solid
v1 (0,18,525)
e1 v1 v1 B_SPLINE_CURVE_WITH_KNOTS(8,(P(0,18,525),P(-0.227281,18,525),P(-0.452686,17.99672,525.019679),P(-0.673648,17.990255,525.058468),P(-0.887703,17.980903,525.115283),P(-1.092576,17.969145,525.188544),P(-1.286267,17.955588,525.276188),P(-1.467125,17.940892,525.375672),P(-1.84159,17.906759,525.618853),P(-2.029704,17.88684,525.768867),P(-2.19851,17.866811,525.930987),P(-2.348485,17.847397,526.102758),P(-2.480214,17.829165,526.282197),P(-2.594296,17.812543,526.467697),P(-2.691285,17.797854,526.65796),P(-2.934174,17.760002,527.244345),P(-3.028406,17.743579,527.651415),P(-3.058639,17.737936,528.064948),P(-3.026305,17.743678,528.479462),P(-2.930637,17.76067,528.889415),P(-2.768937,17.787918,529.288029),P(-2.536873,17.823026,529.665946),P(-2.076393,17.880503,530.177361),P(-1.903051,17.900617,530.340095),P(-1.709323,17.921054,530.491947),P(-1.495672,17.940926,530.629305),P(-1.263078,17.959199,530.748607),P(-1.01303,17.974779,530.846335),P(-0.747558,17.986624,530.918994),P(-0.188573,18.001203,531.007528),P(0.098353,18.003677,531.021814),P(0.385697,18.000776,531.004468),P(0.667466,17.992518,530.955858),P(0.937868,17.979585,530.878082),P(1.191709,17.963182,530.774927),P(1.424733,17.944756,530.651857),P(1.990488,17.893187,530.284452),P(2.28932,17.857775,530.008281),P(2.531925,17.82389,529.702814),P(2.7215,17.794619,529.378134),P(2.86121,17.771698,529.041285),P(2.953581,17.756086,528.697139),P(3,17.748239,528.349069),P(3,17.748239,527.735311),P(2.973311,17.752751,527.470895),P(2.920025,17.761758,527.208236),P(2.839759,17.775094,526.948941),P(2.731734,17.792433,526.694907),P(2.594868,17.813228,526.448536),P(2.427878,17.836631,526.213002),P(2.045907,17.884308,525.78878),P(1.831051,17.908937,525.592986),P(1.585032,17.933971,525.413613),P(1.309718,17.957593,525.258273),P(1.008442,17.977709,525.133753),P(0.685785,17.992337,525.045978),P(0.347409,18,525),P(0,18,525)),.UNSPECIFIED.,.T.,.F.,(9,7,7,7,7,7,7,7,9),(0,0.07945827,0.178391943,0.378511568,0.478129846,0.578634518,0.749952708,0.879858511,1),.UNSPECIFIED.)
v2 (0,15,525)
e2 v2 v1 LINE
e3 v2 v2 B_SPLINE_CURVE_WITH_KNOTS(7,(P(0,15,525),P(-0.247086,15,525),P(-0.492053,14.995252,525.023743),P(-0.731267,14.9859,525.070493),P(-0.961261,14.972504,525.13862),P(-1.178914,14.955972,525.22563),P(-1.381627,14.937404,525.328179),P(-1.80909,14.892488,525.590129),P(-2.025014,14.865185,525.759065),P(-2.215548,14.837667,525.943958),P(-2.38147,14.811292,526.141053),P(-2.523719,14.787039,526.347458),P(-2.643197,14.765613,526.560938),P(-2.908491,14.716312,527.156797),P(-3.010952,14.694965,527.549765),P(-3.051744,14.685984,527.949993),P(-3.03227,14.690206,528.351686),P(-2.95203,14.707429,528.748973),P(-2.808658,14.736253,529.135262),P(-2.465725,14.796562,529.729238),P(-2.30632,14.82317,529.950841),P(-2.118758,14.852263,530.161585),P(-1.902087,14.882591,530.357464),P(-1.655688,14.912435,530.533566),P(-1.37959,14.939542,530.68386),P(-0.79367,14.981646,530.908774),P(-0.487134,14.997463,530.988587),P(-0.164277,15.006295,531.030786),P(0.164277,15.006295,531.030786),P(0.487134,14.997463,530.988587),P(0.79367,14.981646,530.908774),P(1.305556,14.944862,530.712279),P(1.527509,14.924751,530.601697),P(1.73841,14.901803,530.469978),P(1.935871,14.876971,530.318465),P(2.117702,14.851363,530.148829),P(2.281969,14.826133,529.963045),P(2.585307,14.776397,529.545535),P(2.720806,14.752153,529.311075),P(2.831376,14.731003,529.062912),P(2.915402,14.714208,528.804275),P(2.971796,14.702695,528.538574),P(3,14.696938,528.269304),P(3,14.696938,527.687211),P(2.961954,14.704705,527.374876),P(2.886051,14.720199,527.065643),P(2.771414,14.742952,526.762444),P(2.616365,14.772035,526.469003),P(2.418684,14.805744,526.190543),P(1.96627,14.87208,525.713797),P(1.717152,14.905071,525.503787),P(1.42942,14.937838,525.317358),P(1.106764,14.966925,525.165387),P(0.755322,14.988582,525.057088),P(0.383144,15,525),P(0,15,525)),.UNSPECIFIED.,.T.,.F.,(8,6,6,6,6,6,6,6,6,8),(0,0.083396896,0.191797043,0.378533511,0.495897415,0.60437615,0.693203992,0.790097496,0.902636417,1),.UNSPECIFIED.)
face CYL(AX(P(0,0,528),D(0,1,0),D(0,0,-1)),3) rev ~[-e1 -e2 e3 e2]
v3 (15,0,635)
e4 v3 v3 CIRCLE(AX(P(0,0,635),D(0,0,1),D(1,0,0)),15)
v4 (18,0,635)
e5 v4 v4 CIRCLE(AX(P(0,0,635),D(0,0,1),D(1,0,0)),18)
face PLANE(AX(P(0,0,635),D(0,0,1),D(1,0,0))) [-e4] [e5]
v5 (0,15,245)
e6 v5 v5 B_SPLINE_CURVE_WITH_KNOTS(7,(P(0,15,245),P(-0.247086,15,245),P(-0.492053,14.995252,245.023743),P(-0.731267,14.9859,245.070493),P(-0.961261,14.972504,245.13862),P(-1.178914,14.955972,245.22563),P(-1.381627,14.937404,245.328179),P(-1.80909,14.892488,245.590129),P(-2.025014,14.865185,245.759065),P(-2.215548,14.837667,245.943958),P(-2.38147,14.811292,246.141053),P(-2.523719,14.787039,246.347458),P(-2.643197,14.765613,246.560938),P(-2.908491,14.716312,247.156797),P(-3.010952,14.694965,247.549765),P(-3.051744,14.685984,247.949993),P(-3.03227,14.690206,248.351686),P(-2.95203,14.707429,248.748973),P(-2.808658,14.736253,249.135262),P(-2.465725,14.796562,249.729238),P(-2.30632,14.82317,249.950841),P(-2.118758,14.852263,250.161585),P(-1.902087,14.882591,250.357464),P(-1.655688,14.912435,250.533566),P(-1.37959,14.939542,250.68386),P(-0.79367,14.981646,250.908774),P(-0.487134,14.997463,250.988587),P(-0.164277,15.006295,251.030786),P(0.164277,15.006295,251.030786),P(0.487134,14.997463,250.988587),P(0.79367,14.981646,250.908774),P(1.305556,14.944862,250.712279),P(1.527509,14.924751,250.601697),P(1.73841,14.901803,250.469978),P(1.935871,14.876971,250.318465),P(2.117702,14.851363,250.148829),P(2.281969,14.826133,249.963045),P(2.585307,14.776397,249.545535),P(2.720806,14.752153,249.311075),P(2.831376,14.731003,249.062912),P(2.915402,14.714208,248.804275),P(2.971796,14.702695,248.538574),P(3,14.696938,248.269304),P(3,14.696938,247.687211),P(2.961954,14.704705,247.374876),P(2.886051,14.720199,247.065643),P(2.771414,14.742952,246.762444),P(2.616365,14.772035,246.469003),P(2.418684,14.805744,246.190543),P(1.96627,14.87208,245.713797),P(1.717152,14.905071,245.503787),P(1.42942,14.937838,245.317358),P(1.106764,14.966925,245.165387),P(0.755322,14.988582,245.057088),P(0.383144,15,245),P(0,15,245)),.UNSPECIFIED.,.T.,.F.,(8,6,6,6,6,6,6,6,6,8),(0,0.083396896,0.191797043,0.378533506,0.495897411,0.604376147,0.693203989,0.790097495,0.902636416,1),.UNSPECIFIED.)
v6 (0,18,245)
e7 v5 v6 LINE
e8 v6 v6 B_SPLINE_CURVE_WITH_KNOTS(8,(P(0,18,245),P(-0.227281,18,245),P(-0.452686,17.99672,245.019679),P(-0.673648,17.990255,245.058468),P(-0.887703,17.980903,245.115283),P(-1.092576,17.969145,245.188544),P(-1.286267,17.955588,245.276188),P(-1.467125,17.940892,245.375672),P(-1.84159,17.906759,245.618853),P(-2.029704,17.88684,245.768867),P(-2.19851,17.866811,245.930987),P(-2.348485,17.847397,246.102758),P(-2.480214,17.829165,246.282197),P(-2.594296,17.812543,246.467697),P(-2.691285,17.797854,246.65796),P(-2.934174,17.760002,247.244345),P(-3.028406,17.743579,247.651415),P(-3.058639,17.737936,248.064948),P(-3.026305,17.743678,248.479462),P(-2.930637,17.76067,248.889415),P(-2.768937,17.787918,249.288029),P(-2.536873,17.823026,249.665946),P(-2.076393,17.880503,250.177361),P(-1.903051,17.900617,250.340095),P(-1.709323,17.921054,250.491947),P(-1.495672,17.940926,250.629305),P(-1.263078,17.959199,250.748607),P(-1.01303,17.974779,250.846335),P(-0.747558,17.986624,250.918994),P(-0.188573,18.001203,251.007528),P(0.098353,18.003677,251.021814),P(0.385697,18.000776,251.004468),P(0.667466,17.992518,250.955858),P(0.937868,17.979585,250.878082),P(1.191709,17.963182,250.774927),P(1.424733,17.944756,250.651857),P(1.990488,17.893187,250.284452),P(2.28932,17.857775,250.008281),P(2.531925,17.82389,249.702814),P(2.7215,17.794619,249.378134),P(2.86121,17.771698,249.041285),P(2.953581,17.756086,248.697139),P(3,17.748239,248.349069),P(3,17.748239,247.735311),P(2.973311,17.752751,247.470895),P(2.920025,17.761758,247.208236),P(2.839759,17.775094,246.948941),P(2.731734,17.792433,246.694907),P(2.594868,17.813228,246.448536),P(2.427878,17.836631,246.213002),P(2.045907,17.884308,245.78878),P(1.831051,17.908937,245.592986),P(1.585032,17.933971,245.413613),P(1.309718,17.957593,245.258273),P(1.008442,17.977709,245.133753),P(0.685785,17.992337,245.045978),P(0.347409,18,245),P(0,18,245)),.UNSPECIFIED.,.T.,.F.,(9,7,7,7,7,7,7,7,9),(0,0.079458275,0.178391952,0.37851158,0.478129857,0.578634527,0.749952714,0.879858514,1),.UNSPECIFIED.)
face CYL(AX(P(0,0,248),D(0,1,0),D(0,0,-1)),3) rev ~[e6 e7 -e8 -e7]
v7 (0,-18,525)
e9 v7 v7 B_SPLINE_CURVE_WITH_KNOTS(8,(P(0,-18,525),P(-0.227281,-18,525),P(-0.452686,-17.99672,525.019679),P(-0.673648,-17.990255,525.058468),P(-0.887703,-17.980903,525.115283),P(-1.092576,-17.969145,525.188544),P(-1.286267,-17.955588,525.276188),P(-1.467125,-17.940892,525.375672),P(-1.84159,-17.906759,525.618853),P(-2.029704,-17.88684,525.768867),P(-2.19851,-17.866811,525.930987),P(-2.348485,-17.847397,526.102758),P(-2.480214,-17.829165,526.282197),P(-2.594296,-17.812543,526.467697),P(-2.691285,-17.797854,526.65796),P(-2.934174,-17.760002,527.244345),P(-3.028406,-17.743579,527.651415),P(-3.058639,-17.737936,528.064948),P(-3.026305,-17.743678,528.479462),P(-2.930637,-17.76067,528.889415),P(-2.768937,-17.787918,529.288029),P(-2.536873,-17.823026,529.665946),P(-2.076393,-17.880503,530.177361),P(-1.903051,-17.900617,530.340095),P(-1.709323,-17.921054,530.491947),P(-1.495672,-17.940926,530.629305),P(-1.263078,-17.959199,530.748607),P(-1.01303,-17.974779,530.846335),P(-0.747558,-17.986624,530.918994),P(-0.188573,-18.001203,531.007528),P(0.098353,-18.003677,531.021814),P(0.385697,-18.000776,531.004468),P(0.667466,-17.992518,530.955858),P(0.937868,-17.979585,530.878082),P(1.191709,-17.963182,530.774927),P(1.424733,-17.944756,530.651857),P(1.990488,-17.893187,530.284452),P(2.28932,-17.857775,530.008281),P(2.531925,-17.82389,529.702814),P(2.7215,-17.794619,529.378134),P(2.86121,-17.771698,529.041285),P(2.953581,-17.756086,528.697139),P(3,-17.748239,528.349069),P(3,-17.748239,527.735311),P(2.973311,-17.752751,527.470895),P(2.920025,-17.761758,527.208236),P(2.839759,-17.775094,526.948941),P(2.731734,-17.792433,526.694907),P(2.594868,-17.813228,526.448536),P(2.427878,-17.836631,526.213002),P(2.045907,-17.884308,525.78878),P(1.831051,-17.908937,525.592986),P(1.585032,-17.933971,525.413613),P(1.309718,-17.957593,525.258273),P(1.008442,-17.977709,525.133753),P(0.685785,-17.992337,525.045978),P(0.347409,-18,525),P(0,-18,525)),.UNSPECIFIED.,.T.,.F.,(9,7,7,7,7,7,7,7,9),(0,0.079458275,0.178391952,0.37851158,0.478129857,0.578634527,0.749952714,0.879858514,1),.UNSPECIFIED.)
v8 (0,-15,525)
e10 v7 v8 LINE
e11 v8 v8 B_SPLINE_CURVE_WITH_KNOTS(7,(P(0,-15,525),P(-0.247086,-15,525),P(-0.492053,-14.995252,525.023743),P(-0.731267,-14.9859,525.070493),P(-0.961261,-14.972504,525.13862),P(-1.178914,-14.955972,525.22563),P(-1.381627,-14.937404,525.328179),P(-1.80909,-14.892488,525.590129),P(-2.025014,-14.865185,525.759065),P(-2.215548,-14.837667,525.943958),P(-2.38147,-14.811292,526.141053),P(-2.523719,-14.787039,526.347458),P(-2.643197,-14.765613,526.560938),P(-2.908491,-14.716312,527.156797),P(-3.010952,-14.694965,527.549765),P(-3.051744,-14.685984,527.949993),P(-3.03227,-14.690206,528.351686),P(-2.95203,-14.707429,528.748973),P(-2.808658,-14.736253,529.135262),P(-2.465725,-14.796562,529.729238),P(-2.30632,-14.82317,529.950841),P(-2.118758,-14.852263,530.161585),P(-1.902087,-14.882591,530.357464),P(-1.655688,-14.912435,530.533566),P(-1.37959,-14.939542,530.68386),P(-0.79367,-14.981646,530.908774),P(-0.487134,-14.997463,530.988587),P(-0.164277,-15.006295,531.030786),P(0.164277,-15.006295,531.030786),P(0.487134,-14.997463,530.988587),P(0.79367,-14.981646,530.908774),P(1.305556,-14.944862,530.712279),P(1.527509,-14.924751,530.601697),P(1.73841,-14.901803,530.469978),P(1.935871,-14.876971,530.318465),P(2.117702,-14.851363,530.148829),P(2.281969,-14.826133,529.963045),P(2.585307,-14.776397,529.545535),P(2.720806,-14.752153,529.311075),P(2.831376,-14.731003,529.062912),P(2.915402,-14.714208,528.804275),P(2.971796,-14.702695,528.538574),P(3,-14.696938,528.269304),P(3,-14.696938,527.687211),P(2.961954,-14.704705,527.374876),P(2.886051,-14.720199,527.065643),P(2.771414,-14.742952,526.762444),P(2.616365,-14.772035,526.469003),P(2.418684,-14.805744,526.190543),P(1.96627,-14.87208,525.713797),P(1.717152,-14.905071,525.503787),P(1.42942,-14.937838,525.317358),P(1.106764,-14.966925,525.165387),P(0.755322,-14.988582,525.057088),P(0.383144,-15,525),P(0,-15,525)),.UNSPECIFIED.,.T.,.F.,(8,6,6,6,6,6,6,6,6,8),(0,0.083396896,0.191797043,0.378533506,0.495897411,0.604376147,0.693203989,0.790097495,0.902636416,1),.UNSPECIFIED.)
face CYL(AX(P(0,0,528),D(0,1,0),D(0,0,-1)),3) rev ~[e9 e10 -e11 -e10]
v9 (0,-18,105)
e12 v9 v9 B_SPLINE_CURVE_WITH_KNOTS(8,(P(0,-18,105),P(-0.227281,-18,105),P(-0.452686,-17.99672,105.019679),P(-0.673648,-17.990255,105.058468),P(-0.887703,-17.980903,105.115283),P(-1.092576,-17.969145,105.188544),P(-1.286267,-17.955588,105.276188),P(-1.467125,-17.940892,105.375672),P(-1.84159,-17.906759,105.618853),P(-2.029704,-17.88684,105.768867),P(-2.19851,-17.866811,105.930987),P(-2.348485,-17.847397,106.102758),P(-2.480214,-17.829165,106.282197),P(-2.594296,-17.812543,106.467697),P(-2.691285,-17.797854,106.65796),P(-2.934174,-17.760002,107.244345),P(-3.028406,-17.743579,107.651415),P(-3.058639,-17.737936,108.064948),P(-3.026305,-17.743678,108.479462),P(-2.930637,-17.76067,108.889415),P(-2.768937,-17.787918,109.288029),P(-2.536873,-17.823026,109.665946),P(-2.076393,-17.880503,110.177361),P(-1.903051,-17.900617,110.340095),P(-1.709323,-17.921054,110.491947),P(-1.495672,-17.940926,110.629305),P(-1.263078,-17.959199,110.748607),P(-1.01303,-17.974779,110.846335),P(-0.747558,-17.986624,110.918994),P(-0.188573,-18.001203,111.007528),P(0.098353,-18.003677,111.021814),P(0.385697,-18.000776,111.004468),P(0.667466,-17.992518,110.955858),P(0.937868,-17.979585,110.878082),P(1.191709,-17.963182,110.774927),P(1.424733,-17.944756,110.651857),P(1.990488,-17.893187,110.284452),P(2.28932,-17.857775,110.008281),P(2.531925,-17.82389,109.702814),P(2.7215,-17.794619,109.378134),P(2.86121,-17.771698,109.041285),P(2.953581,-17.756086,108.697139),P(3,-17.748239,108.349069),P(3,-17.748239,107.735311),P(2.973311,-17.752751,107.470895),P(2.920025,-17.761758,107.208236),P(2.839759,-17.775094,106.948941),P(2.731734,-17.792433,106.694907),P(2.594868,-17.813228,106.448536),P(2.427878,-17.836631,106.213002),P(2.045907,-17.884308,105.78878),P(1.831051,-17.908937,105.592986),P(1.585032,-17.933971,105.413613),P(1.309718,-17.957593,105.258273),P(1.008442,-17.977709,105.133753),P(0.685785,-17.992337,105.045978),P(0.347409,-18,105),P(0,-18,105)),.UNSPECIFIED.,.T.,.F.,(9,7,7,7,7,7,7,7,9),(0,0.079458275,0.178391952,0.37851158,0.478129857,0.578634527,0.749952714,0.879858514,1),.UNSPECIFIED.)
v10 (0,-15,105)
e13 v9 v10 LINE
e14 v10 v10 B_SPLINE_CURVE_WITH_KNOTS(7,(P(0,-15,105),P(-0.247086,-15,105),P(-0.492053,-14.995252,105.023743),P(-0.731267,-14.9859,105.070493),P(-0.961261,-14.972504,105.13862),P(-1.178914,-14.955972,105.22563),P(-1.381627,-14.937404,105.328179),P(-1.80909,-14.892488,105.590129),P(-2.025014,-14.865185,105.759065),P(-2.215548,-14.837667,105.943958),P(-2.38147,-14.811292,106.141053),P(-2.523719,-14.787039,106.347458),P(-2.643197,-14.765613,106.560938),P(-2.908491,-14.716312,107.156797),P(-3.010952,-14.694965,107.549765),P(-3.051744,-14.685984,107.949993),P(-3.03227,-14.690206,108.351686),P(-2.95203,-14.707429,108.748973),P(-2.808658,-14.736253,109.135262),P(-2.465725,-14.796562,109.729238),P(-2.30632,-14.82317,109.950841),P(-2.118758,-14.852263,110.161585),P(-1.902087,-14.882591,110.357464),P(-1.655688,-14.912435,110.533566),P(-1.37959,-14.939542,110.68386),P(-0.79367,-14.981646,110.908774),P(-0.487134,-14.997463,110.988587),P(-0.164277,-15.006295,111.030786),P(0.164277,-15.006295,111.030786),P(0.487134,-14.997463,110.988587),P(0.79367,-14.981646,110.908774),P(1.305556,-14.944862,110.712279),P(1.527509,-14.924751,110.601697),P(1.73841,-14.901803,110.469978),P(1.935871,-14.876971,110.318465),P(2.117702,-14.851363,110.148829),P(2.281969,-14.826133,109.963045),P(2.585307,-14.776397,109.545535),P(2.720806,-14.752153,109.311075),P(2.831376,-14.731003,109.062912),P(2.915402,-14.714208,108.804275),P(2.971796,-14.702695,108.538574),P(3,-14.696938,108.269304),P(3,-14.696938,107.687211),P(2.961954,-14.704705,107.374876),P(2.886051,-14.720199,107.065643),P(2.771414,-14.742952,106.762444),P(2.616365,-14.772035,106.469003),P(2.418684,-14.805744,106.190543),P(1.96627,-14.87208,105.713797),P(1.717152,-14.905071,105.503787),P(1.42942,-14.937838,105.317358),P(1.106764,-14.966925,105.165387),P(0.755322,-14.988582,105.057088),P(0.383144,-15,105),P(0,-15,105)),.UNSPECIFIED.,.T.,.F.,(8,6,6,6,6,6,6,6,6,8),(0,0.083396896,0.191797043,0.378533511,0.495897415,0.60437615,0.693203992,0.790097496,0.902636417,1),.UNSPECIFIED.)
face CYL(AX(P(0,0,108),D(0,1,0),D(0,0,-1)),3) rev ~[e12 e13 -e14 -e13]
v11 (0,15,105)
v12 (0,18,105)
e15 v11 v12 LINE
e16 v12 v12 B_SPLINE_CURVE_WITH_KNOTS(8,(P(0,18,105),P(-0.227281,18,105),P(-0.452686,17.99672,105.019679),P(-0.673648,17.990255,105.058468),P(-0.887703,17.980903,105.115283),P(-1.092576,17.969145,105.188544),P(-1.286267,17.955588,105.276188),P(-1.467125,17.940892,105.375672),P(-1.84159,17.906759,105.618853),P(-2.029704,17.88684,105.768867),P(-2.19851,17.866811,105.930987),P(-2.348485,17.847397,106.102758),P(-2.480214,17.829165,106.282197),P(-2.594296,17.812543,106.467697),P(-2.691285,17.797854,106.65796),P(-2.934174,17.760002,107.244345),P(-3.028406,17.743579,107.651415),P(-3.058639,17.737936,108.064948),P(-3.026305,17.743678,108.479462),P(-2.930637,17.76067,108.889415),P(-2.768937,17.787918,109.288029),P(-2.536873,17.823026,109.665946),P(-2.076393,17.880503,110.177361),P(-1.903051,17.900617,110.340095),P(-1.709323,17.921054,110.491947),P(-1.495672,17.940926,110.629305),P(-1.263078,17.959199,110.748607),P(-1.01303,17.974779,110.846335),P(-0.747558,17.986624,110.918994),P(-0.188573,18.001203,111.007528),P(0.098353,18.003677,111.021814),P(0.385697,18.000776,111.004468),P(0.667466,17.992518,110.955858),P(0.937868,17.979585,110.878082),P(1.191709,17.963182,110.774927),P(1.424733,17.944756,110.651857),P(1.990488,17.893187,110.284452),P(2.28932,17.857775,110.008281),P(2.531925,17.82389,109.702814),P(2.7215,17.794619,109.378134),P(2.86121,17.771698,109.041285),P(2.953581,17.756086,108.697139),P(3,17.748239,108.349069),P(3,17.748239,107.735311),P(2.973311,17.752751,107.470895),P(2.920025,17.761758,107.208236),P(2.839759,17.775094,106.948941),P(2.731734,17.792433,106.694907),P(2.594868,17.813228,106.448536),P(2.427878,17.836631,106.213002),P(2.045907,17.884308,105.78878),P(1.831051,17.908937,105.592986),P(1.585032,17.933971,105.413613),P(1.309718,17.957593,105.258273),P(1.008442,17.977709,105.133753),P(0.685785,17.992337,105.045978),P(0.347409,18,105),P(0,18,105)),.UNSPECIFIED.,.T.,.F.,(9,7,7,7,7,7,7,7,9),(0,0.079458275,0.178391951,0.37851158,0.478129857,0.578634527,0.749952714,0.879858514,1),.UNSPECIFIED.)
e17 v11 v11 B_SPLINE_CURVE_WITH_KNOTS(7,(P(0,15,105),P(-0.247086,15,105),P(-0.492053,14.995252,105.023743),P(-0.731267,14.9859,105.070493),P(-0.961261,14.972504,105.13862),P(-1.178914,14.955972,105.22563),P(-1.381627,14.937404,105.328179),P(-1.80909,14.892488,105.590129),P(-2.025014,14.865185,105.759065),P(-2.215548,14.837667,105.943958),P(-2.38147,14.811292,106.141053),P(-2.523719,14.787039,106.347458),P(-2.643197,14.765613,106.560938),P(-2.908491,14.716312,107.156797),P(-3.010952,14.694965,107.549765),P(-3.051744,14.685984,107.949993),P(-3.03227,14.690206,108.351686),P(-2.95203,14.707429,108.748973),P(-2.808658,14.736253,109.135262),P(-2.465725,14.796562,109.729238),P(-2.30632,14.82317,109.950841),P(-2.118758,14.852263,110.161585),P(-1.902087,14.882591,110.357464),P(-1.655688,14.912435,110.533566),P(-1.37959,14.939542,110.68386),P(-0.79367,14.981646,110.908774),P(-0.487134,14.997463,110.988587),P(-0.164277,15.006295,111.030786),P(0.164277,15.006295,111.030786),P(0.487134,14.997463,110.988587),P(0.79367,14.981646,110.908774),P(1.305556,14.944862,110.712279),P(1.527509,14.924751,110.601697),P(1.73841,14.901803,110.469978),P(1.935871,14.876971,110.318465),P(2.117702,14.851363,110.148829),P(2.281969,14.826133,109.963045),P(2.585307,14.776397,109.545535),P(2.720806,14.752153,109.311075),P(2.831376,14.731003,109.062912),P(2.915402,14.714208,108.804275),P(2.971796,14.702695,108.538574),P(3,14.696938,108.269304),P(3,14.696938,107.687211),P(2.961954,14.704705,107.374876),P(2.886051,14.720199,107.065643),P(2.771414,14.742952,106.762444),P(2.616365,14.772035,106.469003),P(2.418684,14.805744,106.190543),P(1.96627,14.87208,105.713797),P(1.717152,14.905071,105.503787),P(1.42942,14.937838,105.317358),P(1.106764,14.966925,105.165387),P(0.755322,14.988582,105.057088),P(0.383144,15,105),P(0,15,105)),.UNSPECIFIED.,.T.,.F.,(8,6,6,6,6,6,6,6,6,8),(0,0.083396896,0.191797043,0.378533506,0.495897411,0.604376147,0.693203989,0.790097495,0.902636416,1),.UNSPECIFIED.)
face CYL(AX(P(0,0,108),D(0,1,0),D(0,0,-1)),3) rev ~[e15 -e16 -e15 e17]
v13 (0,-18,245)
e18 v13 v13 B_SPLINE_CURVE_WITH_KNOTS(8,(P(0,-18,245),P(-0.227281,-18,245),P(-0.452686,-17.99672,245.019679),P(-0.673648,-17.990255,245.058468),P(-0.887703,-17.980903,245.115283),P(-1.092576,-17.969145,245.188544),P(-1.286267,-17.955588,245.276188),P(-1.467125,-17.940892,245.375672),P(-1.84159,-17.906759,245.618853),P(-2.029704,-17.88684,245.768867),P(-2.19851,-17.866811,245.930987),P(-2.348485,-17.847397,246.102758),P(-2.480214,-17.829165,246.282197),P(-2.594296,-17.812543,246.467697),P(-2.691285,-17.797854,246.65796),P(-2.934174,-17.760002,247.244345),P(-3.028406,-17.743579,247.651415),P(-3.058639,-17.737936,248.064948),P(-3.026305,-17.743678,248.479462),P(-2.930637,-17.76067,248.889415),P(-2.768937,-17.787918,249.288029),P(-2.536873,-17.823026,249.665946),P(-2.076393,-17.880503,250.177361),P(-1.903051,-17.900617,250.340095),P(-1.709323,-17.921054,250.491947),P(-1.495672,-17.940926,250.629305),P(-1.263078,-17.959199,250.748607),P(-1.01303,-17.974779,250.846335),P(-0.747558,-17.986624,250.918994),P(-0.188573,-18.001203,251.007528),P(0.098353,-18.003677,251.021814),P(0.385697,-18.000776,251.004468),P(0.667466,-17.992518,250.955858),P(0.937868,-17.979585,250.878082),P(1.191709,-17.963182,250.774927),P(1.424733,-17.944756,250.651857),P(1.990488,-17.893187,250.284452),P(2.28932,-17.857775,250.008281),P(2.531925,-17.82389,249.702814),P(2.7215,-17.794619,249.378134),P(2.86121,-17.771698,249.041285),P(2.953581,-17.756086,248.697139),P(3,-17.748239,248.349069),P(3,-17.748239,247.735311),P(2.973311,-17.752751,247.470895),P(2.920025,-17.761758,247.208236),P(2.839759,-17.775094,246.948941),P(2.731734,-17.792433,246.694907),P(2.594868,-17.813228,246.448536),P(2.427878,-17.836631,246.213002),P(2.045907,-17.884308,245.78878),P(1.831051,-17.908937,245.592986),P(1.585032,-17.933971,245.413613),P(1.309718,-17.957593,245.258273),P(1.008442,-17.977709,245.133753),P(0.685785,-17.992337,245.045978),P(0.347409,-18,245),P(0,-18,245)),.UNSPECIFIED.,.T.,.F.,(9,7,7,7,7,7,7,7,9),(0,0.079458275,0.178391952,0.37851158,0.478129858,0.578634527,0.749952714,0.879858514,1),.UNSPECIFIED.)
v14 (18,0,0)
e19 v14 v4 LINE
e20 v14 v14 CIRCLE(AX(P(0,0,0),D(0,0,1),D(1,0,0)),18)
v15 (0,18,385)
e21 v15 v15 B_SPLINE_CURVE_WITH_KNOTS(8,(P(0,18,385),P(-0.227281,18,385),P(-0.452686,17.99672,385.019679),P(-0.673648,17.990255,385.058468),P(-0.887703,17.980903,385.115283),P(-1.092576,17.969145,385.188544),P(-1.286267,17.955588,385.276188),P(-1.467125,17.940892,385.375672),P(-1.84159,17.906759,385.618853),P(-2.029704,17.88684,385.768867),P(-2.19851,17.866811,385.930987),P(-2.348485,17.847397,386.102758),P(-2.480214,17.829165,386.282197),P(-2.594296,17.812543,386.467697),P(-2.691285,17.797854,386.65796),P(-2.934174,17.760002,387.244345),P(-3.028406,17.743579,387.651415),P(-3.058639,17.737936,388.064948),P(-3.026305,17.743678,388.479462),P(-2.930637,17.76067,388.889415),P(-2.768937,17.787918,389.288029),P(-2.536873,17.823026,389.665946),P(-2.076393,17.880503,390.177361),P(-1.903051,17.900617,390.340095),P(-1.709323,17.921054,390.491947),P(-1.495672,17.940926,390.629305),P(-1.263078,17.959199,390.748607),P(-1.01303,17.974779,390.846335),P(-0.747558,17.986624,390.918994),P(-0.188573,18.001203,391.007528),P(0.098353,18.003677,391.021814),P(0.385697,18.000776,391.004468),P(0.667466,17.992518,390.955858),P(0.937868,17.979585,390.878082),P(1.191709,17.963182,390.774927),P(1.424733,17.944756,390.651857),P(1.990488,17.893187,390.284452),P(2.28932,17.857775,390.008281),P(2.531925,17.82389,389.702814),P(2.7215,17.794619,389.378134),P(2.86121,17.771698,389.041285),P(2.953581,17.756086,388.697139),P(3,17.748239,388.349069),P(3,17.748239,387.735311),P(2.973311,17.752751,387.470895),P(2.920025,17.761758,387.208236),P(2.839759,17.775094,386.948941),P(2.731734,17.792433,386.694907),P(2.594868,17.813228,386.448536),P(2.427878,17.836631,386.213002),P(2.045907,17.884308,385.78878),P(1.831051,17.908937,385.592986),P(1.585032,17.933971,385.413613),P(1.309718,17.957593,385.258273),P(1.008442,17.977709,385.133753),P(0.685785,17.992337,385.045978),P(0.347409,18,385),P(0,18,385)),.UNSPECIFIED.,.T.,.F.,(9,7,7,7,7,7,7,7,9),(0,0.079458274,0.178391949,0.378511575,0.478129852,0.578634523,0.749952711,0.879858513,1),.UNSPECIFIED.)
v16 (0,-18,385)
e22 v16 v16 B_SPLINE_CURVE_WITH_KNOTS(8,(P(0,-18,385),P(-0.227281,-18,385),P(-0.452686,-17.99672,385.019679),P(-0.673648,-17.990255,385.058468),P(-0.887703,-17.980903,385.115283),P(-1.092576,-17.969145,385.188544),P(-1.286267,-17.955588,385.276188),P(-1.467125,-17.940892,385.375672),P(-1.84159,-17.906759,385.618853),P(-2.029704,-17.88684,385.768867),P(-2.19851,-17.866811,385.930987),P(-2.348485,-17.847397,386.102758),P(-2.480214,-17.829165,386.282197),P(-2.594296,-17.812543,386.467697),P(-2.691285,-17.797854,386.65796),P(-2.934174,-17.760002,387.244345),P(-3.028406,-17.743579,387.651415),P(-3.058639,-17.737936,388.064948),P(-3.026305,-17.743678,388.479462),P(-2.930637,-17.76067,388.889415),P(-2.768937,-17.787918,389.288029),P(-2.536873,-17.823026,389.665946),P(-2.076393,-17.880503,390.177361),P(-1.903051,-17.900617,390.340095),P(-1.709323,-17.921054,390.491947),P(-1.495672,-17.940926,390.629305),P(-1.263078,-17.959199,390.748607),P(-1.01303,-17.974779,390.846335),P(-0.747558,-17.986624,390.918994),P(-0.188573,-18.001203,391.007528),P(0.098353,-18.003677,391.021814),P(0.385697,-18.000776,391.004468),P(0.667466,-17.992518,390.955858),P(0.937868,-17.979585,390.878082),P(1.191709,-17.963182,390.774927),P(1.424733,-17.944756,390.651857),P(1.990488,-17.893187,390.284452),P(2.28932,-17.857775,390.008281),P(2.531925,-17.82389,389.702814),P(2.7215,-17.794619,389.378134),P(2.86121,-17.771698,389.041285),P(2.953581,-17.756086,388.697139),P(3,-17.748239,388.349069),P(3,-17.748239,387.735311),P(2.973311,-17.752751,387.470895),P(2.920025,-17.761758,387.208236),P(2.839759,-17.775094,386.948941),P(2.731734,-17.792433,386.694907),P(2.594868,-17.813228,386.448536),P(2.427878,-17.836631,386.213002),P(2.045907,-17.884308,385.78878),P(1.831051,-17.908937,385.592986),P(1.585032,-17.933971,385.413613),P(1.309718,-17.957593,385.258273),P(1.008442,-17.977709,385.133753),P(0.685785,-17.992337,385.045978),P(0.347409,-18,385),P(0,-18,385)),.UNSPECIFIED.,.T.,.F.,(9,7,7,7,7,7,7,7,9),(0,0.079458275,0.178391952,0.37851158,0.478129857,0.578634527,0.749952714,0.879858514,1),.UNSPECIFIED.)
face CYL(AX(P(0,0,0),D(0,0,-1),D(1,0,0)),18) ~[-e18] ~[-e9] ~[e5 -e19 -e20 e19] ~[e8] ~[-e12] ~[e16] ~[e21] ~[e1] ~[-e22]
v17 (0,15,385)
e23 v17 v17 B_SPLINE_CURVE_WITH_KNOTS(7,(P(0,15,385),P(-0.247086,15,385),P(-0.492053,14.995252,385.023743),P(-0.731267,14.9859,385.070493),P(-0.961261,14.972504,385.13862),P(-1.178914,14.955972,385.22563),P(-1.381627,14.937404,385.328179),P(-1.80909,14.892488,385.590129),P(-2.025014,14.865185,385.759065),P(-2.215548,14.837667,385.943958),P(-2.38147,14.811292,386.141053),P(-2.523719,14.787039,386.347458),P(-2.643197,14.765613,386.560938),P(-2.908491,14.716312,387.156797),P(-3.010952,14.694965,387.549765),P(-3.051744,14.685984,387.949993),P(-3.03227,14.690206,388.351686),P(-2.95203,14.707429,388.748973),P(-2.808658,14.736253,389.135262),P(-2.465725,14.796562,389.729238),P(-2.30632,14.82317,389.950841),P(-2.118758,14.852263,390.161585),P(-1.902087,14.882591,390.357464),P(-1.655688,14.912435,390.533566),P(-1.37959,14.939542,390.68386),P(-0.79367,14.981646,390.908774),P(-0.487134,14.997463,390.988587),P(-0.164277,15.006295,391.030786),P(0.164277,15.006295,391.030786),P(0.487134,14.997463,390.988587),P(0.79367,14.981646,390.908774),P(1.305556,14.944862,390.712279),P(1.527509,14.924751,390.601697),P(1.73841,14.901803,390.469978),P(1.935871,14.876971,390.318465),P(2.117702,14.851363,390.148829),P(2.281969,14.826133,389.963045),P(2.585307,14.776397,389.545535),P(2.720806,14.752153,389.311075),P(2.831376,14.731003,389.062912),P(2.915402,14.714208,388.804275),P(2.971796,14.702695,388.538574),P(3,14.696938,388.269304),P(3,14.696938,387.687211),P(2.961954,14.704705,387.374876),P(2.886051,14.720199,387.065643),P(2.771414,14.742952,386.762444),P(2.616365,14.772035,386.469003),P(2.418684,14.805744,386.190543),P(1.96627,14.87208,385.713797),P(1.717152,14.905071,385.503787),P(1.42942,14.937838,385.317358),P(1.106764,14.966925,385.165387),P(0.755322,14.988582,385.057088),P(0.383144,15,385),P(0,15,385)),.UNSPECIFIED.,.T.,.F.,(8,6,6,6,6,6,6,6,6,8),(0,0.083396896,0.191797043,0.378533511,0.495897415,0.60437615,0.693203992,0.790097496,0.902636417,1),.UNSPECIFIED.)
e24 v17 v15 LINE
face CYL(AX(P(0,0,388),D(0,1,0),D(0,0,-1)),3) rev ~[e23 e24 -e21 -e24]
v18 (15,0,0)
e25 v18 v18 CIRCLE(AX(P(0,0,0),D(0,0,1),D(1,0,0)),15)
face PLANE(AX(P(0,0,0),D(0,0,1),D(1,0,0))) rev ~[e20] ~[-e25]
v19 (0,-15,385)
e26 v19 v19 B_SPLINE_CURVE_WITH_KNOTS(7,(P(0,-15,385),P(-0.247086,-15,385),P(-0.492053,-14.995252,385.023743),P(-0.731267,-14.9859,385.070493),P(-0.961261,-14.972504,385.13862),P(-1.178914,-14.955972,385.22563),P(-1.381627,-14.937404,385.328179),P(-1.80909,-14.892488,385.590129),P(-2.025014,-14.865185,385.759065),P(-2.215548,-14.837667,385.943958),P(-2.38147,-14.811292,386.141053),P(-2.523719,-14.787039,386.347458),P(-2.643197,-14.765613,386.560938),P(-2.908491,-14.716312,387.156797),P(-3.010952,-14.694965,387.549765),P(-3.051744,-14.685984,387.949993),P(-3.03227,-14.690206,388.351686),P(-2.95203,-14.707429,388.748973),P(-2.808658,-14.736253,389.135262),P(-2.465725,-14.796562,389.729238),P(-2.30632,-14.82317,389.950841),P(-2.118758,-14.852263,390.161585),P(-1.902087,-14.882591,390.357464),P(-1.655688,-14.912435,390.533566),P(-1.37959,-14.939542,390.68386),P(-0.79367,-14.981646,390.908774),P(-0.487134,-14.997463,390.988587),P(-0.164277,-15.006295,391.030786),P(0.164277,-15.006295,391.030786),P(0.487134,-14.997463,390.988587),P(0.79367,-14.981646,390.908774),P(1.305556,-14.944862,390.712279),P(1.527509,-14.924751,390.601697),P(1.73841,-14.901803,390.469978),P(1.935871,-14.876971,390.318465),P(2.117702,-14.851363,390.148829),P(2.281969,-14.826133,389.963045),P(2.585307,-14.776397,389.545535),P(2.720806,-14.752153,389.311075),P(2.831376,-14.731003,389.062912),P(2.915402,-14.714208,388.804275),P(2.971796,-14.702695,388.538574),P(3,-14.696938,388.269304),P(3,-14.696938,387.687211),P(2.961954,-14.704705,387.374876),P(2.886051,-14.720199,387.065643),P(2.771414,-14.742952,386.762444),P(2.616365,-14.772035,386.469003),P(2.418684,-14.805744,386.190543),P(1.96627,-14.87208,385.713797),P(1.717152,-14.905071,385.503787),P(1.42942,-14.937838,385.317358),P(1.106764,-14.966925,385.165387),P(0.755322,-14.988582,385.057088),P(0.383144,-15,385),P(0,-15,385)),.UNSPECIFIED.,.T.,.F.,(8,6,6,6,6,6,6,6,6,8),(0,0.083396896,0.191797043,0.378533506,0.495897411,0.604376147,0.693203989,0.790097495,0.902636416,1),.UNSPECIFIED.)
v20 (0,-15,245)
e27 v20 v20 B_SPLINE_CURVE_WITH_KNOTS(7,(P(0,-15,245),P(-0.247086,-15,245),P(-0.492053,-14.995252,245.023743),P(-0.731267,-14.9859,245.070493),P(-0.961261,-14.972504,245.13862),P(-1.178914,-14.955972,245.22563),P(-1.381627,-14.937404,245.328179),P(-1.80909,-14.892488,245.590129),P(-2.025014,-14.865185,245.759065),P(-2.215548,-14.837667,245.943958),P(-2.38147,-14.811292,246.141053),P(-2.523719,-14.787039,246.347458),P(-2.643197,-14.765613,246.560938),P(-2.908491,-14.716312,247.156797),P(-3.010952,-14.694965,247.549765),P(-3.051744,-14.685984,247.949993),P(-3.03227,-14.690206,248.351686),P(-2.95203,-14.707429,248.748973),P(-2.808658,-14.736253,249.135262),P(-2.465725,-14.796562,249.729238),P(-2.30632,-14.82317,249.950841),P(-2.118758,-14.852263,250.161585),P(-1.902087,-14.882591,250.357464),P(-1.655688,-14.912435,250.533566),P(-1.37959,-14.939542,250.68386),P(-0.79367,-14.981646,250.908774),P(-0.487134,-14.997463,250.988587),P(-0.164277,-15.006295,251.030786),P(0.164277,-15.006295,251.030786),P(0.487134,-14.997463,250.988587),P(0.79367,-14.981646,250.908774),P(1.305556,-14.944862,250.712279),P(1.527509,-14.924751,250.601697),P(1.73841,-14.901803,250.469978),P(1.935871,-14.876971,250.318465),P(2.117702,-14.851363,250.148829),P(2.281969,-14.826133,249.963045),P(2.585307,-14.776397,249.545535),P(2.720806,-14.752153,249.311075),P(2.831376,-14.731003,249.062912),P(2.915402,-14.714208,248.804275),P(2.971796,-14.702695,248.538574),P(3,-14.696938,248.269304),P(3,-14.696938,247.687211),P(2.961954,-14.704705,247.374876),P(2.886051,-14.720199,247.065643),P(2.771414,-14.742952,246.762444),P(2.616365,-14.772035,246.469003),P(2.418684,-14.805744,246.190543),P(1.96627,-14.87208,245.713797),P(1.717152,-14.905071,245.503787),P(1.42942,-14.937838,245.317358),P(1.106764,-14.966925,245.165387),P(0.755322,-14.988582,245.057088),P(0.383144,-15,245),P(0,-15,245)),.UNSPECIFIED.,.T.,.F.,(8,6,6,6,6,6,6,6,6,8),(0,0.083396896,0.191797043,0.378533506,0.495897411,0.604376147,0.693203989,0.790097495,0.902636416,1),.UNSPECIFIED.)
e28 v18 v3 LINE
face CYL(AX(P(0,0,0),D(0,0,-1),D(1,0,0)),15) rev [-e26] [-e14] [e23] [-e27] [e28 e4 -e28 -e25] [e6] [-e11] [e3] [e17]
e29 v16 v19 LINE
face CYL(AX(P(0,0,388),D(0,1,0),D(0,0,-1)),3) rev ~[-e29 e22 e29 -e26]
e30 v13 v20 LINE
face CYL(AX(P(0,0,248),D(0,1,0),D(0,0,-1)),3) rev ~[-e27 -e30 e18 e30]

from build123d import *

# Parameters (mm, degrees)
ESQUISSE1_R                = 18
ESQUISSE1_R_2              = 15
EXTRU_MINCE1_DEPTH         = 635
ESQUISSE2_R                = 3
ENL_V_MAT_EXTRU_1_DEPTH    = 30
R_P_TITION_LIN_AIRE1_COUNT = 4
R_P_TITION_LIN_AIRE1_PITCH = 140


with BuildPart() as part:
    # Esquisse1 → Extru.-Mince1 (new body)
    with BuildSketch(Plane.XY):
        Circle(ESQUISSE1_R)
        Circle(ESQUISSE1_R_2, mode=Mode.SUBTRACT)
    extrude(amount=EXTRU_MINCE1_DEPTH)

    # Esquisse2 → Enlèv. mat.-Extru.1 (cut, symmetric)
    with BuildSketch(Plane(origin=(0, 0, 0), x_dir=(1, 0, 0), z_dir=(0, 1, 0))):
        with Locations((0, -108)):
            Circle(ESQUISSE2_R)
    enl_v_mat_extru_1 = extrude(amount=ENL_V_MAT_EXTRU_1_DEPTH, both=True, mode=Mode.SUBTRACT)

    # Répétition linéaire1: Enlèv. mat.-Extru.1 ×4
    with Locations(*[(0, 0, i * R_P_TITION_LIN_AIRE1_PITCH) for i in range(1, R_P_TITION_LIN_AIRE1_COUNT)]):
        add(enl_v_mat_extru_1, mode=Mode.SUBTRACT)


solid = part.part
